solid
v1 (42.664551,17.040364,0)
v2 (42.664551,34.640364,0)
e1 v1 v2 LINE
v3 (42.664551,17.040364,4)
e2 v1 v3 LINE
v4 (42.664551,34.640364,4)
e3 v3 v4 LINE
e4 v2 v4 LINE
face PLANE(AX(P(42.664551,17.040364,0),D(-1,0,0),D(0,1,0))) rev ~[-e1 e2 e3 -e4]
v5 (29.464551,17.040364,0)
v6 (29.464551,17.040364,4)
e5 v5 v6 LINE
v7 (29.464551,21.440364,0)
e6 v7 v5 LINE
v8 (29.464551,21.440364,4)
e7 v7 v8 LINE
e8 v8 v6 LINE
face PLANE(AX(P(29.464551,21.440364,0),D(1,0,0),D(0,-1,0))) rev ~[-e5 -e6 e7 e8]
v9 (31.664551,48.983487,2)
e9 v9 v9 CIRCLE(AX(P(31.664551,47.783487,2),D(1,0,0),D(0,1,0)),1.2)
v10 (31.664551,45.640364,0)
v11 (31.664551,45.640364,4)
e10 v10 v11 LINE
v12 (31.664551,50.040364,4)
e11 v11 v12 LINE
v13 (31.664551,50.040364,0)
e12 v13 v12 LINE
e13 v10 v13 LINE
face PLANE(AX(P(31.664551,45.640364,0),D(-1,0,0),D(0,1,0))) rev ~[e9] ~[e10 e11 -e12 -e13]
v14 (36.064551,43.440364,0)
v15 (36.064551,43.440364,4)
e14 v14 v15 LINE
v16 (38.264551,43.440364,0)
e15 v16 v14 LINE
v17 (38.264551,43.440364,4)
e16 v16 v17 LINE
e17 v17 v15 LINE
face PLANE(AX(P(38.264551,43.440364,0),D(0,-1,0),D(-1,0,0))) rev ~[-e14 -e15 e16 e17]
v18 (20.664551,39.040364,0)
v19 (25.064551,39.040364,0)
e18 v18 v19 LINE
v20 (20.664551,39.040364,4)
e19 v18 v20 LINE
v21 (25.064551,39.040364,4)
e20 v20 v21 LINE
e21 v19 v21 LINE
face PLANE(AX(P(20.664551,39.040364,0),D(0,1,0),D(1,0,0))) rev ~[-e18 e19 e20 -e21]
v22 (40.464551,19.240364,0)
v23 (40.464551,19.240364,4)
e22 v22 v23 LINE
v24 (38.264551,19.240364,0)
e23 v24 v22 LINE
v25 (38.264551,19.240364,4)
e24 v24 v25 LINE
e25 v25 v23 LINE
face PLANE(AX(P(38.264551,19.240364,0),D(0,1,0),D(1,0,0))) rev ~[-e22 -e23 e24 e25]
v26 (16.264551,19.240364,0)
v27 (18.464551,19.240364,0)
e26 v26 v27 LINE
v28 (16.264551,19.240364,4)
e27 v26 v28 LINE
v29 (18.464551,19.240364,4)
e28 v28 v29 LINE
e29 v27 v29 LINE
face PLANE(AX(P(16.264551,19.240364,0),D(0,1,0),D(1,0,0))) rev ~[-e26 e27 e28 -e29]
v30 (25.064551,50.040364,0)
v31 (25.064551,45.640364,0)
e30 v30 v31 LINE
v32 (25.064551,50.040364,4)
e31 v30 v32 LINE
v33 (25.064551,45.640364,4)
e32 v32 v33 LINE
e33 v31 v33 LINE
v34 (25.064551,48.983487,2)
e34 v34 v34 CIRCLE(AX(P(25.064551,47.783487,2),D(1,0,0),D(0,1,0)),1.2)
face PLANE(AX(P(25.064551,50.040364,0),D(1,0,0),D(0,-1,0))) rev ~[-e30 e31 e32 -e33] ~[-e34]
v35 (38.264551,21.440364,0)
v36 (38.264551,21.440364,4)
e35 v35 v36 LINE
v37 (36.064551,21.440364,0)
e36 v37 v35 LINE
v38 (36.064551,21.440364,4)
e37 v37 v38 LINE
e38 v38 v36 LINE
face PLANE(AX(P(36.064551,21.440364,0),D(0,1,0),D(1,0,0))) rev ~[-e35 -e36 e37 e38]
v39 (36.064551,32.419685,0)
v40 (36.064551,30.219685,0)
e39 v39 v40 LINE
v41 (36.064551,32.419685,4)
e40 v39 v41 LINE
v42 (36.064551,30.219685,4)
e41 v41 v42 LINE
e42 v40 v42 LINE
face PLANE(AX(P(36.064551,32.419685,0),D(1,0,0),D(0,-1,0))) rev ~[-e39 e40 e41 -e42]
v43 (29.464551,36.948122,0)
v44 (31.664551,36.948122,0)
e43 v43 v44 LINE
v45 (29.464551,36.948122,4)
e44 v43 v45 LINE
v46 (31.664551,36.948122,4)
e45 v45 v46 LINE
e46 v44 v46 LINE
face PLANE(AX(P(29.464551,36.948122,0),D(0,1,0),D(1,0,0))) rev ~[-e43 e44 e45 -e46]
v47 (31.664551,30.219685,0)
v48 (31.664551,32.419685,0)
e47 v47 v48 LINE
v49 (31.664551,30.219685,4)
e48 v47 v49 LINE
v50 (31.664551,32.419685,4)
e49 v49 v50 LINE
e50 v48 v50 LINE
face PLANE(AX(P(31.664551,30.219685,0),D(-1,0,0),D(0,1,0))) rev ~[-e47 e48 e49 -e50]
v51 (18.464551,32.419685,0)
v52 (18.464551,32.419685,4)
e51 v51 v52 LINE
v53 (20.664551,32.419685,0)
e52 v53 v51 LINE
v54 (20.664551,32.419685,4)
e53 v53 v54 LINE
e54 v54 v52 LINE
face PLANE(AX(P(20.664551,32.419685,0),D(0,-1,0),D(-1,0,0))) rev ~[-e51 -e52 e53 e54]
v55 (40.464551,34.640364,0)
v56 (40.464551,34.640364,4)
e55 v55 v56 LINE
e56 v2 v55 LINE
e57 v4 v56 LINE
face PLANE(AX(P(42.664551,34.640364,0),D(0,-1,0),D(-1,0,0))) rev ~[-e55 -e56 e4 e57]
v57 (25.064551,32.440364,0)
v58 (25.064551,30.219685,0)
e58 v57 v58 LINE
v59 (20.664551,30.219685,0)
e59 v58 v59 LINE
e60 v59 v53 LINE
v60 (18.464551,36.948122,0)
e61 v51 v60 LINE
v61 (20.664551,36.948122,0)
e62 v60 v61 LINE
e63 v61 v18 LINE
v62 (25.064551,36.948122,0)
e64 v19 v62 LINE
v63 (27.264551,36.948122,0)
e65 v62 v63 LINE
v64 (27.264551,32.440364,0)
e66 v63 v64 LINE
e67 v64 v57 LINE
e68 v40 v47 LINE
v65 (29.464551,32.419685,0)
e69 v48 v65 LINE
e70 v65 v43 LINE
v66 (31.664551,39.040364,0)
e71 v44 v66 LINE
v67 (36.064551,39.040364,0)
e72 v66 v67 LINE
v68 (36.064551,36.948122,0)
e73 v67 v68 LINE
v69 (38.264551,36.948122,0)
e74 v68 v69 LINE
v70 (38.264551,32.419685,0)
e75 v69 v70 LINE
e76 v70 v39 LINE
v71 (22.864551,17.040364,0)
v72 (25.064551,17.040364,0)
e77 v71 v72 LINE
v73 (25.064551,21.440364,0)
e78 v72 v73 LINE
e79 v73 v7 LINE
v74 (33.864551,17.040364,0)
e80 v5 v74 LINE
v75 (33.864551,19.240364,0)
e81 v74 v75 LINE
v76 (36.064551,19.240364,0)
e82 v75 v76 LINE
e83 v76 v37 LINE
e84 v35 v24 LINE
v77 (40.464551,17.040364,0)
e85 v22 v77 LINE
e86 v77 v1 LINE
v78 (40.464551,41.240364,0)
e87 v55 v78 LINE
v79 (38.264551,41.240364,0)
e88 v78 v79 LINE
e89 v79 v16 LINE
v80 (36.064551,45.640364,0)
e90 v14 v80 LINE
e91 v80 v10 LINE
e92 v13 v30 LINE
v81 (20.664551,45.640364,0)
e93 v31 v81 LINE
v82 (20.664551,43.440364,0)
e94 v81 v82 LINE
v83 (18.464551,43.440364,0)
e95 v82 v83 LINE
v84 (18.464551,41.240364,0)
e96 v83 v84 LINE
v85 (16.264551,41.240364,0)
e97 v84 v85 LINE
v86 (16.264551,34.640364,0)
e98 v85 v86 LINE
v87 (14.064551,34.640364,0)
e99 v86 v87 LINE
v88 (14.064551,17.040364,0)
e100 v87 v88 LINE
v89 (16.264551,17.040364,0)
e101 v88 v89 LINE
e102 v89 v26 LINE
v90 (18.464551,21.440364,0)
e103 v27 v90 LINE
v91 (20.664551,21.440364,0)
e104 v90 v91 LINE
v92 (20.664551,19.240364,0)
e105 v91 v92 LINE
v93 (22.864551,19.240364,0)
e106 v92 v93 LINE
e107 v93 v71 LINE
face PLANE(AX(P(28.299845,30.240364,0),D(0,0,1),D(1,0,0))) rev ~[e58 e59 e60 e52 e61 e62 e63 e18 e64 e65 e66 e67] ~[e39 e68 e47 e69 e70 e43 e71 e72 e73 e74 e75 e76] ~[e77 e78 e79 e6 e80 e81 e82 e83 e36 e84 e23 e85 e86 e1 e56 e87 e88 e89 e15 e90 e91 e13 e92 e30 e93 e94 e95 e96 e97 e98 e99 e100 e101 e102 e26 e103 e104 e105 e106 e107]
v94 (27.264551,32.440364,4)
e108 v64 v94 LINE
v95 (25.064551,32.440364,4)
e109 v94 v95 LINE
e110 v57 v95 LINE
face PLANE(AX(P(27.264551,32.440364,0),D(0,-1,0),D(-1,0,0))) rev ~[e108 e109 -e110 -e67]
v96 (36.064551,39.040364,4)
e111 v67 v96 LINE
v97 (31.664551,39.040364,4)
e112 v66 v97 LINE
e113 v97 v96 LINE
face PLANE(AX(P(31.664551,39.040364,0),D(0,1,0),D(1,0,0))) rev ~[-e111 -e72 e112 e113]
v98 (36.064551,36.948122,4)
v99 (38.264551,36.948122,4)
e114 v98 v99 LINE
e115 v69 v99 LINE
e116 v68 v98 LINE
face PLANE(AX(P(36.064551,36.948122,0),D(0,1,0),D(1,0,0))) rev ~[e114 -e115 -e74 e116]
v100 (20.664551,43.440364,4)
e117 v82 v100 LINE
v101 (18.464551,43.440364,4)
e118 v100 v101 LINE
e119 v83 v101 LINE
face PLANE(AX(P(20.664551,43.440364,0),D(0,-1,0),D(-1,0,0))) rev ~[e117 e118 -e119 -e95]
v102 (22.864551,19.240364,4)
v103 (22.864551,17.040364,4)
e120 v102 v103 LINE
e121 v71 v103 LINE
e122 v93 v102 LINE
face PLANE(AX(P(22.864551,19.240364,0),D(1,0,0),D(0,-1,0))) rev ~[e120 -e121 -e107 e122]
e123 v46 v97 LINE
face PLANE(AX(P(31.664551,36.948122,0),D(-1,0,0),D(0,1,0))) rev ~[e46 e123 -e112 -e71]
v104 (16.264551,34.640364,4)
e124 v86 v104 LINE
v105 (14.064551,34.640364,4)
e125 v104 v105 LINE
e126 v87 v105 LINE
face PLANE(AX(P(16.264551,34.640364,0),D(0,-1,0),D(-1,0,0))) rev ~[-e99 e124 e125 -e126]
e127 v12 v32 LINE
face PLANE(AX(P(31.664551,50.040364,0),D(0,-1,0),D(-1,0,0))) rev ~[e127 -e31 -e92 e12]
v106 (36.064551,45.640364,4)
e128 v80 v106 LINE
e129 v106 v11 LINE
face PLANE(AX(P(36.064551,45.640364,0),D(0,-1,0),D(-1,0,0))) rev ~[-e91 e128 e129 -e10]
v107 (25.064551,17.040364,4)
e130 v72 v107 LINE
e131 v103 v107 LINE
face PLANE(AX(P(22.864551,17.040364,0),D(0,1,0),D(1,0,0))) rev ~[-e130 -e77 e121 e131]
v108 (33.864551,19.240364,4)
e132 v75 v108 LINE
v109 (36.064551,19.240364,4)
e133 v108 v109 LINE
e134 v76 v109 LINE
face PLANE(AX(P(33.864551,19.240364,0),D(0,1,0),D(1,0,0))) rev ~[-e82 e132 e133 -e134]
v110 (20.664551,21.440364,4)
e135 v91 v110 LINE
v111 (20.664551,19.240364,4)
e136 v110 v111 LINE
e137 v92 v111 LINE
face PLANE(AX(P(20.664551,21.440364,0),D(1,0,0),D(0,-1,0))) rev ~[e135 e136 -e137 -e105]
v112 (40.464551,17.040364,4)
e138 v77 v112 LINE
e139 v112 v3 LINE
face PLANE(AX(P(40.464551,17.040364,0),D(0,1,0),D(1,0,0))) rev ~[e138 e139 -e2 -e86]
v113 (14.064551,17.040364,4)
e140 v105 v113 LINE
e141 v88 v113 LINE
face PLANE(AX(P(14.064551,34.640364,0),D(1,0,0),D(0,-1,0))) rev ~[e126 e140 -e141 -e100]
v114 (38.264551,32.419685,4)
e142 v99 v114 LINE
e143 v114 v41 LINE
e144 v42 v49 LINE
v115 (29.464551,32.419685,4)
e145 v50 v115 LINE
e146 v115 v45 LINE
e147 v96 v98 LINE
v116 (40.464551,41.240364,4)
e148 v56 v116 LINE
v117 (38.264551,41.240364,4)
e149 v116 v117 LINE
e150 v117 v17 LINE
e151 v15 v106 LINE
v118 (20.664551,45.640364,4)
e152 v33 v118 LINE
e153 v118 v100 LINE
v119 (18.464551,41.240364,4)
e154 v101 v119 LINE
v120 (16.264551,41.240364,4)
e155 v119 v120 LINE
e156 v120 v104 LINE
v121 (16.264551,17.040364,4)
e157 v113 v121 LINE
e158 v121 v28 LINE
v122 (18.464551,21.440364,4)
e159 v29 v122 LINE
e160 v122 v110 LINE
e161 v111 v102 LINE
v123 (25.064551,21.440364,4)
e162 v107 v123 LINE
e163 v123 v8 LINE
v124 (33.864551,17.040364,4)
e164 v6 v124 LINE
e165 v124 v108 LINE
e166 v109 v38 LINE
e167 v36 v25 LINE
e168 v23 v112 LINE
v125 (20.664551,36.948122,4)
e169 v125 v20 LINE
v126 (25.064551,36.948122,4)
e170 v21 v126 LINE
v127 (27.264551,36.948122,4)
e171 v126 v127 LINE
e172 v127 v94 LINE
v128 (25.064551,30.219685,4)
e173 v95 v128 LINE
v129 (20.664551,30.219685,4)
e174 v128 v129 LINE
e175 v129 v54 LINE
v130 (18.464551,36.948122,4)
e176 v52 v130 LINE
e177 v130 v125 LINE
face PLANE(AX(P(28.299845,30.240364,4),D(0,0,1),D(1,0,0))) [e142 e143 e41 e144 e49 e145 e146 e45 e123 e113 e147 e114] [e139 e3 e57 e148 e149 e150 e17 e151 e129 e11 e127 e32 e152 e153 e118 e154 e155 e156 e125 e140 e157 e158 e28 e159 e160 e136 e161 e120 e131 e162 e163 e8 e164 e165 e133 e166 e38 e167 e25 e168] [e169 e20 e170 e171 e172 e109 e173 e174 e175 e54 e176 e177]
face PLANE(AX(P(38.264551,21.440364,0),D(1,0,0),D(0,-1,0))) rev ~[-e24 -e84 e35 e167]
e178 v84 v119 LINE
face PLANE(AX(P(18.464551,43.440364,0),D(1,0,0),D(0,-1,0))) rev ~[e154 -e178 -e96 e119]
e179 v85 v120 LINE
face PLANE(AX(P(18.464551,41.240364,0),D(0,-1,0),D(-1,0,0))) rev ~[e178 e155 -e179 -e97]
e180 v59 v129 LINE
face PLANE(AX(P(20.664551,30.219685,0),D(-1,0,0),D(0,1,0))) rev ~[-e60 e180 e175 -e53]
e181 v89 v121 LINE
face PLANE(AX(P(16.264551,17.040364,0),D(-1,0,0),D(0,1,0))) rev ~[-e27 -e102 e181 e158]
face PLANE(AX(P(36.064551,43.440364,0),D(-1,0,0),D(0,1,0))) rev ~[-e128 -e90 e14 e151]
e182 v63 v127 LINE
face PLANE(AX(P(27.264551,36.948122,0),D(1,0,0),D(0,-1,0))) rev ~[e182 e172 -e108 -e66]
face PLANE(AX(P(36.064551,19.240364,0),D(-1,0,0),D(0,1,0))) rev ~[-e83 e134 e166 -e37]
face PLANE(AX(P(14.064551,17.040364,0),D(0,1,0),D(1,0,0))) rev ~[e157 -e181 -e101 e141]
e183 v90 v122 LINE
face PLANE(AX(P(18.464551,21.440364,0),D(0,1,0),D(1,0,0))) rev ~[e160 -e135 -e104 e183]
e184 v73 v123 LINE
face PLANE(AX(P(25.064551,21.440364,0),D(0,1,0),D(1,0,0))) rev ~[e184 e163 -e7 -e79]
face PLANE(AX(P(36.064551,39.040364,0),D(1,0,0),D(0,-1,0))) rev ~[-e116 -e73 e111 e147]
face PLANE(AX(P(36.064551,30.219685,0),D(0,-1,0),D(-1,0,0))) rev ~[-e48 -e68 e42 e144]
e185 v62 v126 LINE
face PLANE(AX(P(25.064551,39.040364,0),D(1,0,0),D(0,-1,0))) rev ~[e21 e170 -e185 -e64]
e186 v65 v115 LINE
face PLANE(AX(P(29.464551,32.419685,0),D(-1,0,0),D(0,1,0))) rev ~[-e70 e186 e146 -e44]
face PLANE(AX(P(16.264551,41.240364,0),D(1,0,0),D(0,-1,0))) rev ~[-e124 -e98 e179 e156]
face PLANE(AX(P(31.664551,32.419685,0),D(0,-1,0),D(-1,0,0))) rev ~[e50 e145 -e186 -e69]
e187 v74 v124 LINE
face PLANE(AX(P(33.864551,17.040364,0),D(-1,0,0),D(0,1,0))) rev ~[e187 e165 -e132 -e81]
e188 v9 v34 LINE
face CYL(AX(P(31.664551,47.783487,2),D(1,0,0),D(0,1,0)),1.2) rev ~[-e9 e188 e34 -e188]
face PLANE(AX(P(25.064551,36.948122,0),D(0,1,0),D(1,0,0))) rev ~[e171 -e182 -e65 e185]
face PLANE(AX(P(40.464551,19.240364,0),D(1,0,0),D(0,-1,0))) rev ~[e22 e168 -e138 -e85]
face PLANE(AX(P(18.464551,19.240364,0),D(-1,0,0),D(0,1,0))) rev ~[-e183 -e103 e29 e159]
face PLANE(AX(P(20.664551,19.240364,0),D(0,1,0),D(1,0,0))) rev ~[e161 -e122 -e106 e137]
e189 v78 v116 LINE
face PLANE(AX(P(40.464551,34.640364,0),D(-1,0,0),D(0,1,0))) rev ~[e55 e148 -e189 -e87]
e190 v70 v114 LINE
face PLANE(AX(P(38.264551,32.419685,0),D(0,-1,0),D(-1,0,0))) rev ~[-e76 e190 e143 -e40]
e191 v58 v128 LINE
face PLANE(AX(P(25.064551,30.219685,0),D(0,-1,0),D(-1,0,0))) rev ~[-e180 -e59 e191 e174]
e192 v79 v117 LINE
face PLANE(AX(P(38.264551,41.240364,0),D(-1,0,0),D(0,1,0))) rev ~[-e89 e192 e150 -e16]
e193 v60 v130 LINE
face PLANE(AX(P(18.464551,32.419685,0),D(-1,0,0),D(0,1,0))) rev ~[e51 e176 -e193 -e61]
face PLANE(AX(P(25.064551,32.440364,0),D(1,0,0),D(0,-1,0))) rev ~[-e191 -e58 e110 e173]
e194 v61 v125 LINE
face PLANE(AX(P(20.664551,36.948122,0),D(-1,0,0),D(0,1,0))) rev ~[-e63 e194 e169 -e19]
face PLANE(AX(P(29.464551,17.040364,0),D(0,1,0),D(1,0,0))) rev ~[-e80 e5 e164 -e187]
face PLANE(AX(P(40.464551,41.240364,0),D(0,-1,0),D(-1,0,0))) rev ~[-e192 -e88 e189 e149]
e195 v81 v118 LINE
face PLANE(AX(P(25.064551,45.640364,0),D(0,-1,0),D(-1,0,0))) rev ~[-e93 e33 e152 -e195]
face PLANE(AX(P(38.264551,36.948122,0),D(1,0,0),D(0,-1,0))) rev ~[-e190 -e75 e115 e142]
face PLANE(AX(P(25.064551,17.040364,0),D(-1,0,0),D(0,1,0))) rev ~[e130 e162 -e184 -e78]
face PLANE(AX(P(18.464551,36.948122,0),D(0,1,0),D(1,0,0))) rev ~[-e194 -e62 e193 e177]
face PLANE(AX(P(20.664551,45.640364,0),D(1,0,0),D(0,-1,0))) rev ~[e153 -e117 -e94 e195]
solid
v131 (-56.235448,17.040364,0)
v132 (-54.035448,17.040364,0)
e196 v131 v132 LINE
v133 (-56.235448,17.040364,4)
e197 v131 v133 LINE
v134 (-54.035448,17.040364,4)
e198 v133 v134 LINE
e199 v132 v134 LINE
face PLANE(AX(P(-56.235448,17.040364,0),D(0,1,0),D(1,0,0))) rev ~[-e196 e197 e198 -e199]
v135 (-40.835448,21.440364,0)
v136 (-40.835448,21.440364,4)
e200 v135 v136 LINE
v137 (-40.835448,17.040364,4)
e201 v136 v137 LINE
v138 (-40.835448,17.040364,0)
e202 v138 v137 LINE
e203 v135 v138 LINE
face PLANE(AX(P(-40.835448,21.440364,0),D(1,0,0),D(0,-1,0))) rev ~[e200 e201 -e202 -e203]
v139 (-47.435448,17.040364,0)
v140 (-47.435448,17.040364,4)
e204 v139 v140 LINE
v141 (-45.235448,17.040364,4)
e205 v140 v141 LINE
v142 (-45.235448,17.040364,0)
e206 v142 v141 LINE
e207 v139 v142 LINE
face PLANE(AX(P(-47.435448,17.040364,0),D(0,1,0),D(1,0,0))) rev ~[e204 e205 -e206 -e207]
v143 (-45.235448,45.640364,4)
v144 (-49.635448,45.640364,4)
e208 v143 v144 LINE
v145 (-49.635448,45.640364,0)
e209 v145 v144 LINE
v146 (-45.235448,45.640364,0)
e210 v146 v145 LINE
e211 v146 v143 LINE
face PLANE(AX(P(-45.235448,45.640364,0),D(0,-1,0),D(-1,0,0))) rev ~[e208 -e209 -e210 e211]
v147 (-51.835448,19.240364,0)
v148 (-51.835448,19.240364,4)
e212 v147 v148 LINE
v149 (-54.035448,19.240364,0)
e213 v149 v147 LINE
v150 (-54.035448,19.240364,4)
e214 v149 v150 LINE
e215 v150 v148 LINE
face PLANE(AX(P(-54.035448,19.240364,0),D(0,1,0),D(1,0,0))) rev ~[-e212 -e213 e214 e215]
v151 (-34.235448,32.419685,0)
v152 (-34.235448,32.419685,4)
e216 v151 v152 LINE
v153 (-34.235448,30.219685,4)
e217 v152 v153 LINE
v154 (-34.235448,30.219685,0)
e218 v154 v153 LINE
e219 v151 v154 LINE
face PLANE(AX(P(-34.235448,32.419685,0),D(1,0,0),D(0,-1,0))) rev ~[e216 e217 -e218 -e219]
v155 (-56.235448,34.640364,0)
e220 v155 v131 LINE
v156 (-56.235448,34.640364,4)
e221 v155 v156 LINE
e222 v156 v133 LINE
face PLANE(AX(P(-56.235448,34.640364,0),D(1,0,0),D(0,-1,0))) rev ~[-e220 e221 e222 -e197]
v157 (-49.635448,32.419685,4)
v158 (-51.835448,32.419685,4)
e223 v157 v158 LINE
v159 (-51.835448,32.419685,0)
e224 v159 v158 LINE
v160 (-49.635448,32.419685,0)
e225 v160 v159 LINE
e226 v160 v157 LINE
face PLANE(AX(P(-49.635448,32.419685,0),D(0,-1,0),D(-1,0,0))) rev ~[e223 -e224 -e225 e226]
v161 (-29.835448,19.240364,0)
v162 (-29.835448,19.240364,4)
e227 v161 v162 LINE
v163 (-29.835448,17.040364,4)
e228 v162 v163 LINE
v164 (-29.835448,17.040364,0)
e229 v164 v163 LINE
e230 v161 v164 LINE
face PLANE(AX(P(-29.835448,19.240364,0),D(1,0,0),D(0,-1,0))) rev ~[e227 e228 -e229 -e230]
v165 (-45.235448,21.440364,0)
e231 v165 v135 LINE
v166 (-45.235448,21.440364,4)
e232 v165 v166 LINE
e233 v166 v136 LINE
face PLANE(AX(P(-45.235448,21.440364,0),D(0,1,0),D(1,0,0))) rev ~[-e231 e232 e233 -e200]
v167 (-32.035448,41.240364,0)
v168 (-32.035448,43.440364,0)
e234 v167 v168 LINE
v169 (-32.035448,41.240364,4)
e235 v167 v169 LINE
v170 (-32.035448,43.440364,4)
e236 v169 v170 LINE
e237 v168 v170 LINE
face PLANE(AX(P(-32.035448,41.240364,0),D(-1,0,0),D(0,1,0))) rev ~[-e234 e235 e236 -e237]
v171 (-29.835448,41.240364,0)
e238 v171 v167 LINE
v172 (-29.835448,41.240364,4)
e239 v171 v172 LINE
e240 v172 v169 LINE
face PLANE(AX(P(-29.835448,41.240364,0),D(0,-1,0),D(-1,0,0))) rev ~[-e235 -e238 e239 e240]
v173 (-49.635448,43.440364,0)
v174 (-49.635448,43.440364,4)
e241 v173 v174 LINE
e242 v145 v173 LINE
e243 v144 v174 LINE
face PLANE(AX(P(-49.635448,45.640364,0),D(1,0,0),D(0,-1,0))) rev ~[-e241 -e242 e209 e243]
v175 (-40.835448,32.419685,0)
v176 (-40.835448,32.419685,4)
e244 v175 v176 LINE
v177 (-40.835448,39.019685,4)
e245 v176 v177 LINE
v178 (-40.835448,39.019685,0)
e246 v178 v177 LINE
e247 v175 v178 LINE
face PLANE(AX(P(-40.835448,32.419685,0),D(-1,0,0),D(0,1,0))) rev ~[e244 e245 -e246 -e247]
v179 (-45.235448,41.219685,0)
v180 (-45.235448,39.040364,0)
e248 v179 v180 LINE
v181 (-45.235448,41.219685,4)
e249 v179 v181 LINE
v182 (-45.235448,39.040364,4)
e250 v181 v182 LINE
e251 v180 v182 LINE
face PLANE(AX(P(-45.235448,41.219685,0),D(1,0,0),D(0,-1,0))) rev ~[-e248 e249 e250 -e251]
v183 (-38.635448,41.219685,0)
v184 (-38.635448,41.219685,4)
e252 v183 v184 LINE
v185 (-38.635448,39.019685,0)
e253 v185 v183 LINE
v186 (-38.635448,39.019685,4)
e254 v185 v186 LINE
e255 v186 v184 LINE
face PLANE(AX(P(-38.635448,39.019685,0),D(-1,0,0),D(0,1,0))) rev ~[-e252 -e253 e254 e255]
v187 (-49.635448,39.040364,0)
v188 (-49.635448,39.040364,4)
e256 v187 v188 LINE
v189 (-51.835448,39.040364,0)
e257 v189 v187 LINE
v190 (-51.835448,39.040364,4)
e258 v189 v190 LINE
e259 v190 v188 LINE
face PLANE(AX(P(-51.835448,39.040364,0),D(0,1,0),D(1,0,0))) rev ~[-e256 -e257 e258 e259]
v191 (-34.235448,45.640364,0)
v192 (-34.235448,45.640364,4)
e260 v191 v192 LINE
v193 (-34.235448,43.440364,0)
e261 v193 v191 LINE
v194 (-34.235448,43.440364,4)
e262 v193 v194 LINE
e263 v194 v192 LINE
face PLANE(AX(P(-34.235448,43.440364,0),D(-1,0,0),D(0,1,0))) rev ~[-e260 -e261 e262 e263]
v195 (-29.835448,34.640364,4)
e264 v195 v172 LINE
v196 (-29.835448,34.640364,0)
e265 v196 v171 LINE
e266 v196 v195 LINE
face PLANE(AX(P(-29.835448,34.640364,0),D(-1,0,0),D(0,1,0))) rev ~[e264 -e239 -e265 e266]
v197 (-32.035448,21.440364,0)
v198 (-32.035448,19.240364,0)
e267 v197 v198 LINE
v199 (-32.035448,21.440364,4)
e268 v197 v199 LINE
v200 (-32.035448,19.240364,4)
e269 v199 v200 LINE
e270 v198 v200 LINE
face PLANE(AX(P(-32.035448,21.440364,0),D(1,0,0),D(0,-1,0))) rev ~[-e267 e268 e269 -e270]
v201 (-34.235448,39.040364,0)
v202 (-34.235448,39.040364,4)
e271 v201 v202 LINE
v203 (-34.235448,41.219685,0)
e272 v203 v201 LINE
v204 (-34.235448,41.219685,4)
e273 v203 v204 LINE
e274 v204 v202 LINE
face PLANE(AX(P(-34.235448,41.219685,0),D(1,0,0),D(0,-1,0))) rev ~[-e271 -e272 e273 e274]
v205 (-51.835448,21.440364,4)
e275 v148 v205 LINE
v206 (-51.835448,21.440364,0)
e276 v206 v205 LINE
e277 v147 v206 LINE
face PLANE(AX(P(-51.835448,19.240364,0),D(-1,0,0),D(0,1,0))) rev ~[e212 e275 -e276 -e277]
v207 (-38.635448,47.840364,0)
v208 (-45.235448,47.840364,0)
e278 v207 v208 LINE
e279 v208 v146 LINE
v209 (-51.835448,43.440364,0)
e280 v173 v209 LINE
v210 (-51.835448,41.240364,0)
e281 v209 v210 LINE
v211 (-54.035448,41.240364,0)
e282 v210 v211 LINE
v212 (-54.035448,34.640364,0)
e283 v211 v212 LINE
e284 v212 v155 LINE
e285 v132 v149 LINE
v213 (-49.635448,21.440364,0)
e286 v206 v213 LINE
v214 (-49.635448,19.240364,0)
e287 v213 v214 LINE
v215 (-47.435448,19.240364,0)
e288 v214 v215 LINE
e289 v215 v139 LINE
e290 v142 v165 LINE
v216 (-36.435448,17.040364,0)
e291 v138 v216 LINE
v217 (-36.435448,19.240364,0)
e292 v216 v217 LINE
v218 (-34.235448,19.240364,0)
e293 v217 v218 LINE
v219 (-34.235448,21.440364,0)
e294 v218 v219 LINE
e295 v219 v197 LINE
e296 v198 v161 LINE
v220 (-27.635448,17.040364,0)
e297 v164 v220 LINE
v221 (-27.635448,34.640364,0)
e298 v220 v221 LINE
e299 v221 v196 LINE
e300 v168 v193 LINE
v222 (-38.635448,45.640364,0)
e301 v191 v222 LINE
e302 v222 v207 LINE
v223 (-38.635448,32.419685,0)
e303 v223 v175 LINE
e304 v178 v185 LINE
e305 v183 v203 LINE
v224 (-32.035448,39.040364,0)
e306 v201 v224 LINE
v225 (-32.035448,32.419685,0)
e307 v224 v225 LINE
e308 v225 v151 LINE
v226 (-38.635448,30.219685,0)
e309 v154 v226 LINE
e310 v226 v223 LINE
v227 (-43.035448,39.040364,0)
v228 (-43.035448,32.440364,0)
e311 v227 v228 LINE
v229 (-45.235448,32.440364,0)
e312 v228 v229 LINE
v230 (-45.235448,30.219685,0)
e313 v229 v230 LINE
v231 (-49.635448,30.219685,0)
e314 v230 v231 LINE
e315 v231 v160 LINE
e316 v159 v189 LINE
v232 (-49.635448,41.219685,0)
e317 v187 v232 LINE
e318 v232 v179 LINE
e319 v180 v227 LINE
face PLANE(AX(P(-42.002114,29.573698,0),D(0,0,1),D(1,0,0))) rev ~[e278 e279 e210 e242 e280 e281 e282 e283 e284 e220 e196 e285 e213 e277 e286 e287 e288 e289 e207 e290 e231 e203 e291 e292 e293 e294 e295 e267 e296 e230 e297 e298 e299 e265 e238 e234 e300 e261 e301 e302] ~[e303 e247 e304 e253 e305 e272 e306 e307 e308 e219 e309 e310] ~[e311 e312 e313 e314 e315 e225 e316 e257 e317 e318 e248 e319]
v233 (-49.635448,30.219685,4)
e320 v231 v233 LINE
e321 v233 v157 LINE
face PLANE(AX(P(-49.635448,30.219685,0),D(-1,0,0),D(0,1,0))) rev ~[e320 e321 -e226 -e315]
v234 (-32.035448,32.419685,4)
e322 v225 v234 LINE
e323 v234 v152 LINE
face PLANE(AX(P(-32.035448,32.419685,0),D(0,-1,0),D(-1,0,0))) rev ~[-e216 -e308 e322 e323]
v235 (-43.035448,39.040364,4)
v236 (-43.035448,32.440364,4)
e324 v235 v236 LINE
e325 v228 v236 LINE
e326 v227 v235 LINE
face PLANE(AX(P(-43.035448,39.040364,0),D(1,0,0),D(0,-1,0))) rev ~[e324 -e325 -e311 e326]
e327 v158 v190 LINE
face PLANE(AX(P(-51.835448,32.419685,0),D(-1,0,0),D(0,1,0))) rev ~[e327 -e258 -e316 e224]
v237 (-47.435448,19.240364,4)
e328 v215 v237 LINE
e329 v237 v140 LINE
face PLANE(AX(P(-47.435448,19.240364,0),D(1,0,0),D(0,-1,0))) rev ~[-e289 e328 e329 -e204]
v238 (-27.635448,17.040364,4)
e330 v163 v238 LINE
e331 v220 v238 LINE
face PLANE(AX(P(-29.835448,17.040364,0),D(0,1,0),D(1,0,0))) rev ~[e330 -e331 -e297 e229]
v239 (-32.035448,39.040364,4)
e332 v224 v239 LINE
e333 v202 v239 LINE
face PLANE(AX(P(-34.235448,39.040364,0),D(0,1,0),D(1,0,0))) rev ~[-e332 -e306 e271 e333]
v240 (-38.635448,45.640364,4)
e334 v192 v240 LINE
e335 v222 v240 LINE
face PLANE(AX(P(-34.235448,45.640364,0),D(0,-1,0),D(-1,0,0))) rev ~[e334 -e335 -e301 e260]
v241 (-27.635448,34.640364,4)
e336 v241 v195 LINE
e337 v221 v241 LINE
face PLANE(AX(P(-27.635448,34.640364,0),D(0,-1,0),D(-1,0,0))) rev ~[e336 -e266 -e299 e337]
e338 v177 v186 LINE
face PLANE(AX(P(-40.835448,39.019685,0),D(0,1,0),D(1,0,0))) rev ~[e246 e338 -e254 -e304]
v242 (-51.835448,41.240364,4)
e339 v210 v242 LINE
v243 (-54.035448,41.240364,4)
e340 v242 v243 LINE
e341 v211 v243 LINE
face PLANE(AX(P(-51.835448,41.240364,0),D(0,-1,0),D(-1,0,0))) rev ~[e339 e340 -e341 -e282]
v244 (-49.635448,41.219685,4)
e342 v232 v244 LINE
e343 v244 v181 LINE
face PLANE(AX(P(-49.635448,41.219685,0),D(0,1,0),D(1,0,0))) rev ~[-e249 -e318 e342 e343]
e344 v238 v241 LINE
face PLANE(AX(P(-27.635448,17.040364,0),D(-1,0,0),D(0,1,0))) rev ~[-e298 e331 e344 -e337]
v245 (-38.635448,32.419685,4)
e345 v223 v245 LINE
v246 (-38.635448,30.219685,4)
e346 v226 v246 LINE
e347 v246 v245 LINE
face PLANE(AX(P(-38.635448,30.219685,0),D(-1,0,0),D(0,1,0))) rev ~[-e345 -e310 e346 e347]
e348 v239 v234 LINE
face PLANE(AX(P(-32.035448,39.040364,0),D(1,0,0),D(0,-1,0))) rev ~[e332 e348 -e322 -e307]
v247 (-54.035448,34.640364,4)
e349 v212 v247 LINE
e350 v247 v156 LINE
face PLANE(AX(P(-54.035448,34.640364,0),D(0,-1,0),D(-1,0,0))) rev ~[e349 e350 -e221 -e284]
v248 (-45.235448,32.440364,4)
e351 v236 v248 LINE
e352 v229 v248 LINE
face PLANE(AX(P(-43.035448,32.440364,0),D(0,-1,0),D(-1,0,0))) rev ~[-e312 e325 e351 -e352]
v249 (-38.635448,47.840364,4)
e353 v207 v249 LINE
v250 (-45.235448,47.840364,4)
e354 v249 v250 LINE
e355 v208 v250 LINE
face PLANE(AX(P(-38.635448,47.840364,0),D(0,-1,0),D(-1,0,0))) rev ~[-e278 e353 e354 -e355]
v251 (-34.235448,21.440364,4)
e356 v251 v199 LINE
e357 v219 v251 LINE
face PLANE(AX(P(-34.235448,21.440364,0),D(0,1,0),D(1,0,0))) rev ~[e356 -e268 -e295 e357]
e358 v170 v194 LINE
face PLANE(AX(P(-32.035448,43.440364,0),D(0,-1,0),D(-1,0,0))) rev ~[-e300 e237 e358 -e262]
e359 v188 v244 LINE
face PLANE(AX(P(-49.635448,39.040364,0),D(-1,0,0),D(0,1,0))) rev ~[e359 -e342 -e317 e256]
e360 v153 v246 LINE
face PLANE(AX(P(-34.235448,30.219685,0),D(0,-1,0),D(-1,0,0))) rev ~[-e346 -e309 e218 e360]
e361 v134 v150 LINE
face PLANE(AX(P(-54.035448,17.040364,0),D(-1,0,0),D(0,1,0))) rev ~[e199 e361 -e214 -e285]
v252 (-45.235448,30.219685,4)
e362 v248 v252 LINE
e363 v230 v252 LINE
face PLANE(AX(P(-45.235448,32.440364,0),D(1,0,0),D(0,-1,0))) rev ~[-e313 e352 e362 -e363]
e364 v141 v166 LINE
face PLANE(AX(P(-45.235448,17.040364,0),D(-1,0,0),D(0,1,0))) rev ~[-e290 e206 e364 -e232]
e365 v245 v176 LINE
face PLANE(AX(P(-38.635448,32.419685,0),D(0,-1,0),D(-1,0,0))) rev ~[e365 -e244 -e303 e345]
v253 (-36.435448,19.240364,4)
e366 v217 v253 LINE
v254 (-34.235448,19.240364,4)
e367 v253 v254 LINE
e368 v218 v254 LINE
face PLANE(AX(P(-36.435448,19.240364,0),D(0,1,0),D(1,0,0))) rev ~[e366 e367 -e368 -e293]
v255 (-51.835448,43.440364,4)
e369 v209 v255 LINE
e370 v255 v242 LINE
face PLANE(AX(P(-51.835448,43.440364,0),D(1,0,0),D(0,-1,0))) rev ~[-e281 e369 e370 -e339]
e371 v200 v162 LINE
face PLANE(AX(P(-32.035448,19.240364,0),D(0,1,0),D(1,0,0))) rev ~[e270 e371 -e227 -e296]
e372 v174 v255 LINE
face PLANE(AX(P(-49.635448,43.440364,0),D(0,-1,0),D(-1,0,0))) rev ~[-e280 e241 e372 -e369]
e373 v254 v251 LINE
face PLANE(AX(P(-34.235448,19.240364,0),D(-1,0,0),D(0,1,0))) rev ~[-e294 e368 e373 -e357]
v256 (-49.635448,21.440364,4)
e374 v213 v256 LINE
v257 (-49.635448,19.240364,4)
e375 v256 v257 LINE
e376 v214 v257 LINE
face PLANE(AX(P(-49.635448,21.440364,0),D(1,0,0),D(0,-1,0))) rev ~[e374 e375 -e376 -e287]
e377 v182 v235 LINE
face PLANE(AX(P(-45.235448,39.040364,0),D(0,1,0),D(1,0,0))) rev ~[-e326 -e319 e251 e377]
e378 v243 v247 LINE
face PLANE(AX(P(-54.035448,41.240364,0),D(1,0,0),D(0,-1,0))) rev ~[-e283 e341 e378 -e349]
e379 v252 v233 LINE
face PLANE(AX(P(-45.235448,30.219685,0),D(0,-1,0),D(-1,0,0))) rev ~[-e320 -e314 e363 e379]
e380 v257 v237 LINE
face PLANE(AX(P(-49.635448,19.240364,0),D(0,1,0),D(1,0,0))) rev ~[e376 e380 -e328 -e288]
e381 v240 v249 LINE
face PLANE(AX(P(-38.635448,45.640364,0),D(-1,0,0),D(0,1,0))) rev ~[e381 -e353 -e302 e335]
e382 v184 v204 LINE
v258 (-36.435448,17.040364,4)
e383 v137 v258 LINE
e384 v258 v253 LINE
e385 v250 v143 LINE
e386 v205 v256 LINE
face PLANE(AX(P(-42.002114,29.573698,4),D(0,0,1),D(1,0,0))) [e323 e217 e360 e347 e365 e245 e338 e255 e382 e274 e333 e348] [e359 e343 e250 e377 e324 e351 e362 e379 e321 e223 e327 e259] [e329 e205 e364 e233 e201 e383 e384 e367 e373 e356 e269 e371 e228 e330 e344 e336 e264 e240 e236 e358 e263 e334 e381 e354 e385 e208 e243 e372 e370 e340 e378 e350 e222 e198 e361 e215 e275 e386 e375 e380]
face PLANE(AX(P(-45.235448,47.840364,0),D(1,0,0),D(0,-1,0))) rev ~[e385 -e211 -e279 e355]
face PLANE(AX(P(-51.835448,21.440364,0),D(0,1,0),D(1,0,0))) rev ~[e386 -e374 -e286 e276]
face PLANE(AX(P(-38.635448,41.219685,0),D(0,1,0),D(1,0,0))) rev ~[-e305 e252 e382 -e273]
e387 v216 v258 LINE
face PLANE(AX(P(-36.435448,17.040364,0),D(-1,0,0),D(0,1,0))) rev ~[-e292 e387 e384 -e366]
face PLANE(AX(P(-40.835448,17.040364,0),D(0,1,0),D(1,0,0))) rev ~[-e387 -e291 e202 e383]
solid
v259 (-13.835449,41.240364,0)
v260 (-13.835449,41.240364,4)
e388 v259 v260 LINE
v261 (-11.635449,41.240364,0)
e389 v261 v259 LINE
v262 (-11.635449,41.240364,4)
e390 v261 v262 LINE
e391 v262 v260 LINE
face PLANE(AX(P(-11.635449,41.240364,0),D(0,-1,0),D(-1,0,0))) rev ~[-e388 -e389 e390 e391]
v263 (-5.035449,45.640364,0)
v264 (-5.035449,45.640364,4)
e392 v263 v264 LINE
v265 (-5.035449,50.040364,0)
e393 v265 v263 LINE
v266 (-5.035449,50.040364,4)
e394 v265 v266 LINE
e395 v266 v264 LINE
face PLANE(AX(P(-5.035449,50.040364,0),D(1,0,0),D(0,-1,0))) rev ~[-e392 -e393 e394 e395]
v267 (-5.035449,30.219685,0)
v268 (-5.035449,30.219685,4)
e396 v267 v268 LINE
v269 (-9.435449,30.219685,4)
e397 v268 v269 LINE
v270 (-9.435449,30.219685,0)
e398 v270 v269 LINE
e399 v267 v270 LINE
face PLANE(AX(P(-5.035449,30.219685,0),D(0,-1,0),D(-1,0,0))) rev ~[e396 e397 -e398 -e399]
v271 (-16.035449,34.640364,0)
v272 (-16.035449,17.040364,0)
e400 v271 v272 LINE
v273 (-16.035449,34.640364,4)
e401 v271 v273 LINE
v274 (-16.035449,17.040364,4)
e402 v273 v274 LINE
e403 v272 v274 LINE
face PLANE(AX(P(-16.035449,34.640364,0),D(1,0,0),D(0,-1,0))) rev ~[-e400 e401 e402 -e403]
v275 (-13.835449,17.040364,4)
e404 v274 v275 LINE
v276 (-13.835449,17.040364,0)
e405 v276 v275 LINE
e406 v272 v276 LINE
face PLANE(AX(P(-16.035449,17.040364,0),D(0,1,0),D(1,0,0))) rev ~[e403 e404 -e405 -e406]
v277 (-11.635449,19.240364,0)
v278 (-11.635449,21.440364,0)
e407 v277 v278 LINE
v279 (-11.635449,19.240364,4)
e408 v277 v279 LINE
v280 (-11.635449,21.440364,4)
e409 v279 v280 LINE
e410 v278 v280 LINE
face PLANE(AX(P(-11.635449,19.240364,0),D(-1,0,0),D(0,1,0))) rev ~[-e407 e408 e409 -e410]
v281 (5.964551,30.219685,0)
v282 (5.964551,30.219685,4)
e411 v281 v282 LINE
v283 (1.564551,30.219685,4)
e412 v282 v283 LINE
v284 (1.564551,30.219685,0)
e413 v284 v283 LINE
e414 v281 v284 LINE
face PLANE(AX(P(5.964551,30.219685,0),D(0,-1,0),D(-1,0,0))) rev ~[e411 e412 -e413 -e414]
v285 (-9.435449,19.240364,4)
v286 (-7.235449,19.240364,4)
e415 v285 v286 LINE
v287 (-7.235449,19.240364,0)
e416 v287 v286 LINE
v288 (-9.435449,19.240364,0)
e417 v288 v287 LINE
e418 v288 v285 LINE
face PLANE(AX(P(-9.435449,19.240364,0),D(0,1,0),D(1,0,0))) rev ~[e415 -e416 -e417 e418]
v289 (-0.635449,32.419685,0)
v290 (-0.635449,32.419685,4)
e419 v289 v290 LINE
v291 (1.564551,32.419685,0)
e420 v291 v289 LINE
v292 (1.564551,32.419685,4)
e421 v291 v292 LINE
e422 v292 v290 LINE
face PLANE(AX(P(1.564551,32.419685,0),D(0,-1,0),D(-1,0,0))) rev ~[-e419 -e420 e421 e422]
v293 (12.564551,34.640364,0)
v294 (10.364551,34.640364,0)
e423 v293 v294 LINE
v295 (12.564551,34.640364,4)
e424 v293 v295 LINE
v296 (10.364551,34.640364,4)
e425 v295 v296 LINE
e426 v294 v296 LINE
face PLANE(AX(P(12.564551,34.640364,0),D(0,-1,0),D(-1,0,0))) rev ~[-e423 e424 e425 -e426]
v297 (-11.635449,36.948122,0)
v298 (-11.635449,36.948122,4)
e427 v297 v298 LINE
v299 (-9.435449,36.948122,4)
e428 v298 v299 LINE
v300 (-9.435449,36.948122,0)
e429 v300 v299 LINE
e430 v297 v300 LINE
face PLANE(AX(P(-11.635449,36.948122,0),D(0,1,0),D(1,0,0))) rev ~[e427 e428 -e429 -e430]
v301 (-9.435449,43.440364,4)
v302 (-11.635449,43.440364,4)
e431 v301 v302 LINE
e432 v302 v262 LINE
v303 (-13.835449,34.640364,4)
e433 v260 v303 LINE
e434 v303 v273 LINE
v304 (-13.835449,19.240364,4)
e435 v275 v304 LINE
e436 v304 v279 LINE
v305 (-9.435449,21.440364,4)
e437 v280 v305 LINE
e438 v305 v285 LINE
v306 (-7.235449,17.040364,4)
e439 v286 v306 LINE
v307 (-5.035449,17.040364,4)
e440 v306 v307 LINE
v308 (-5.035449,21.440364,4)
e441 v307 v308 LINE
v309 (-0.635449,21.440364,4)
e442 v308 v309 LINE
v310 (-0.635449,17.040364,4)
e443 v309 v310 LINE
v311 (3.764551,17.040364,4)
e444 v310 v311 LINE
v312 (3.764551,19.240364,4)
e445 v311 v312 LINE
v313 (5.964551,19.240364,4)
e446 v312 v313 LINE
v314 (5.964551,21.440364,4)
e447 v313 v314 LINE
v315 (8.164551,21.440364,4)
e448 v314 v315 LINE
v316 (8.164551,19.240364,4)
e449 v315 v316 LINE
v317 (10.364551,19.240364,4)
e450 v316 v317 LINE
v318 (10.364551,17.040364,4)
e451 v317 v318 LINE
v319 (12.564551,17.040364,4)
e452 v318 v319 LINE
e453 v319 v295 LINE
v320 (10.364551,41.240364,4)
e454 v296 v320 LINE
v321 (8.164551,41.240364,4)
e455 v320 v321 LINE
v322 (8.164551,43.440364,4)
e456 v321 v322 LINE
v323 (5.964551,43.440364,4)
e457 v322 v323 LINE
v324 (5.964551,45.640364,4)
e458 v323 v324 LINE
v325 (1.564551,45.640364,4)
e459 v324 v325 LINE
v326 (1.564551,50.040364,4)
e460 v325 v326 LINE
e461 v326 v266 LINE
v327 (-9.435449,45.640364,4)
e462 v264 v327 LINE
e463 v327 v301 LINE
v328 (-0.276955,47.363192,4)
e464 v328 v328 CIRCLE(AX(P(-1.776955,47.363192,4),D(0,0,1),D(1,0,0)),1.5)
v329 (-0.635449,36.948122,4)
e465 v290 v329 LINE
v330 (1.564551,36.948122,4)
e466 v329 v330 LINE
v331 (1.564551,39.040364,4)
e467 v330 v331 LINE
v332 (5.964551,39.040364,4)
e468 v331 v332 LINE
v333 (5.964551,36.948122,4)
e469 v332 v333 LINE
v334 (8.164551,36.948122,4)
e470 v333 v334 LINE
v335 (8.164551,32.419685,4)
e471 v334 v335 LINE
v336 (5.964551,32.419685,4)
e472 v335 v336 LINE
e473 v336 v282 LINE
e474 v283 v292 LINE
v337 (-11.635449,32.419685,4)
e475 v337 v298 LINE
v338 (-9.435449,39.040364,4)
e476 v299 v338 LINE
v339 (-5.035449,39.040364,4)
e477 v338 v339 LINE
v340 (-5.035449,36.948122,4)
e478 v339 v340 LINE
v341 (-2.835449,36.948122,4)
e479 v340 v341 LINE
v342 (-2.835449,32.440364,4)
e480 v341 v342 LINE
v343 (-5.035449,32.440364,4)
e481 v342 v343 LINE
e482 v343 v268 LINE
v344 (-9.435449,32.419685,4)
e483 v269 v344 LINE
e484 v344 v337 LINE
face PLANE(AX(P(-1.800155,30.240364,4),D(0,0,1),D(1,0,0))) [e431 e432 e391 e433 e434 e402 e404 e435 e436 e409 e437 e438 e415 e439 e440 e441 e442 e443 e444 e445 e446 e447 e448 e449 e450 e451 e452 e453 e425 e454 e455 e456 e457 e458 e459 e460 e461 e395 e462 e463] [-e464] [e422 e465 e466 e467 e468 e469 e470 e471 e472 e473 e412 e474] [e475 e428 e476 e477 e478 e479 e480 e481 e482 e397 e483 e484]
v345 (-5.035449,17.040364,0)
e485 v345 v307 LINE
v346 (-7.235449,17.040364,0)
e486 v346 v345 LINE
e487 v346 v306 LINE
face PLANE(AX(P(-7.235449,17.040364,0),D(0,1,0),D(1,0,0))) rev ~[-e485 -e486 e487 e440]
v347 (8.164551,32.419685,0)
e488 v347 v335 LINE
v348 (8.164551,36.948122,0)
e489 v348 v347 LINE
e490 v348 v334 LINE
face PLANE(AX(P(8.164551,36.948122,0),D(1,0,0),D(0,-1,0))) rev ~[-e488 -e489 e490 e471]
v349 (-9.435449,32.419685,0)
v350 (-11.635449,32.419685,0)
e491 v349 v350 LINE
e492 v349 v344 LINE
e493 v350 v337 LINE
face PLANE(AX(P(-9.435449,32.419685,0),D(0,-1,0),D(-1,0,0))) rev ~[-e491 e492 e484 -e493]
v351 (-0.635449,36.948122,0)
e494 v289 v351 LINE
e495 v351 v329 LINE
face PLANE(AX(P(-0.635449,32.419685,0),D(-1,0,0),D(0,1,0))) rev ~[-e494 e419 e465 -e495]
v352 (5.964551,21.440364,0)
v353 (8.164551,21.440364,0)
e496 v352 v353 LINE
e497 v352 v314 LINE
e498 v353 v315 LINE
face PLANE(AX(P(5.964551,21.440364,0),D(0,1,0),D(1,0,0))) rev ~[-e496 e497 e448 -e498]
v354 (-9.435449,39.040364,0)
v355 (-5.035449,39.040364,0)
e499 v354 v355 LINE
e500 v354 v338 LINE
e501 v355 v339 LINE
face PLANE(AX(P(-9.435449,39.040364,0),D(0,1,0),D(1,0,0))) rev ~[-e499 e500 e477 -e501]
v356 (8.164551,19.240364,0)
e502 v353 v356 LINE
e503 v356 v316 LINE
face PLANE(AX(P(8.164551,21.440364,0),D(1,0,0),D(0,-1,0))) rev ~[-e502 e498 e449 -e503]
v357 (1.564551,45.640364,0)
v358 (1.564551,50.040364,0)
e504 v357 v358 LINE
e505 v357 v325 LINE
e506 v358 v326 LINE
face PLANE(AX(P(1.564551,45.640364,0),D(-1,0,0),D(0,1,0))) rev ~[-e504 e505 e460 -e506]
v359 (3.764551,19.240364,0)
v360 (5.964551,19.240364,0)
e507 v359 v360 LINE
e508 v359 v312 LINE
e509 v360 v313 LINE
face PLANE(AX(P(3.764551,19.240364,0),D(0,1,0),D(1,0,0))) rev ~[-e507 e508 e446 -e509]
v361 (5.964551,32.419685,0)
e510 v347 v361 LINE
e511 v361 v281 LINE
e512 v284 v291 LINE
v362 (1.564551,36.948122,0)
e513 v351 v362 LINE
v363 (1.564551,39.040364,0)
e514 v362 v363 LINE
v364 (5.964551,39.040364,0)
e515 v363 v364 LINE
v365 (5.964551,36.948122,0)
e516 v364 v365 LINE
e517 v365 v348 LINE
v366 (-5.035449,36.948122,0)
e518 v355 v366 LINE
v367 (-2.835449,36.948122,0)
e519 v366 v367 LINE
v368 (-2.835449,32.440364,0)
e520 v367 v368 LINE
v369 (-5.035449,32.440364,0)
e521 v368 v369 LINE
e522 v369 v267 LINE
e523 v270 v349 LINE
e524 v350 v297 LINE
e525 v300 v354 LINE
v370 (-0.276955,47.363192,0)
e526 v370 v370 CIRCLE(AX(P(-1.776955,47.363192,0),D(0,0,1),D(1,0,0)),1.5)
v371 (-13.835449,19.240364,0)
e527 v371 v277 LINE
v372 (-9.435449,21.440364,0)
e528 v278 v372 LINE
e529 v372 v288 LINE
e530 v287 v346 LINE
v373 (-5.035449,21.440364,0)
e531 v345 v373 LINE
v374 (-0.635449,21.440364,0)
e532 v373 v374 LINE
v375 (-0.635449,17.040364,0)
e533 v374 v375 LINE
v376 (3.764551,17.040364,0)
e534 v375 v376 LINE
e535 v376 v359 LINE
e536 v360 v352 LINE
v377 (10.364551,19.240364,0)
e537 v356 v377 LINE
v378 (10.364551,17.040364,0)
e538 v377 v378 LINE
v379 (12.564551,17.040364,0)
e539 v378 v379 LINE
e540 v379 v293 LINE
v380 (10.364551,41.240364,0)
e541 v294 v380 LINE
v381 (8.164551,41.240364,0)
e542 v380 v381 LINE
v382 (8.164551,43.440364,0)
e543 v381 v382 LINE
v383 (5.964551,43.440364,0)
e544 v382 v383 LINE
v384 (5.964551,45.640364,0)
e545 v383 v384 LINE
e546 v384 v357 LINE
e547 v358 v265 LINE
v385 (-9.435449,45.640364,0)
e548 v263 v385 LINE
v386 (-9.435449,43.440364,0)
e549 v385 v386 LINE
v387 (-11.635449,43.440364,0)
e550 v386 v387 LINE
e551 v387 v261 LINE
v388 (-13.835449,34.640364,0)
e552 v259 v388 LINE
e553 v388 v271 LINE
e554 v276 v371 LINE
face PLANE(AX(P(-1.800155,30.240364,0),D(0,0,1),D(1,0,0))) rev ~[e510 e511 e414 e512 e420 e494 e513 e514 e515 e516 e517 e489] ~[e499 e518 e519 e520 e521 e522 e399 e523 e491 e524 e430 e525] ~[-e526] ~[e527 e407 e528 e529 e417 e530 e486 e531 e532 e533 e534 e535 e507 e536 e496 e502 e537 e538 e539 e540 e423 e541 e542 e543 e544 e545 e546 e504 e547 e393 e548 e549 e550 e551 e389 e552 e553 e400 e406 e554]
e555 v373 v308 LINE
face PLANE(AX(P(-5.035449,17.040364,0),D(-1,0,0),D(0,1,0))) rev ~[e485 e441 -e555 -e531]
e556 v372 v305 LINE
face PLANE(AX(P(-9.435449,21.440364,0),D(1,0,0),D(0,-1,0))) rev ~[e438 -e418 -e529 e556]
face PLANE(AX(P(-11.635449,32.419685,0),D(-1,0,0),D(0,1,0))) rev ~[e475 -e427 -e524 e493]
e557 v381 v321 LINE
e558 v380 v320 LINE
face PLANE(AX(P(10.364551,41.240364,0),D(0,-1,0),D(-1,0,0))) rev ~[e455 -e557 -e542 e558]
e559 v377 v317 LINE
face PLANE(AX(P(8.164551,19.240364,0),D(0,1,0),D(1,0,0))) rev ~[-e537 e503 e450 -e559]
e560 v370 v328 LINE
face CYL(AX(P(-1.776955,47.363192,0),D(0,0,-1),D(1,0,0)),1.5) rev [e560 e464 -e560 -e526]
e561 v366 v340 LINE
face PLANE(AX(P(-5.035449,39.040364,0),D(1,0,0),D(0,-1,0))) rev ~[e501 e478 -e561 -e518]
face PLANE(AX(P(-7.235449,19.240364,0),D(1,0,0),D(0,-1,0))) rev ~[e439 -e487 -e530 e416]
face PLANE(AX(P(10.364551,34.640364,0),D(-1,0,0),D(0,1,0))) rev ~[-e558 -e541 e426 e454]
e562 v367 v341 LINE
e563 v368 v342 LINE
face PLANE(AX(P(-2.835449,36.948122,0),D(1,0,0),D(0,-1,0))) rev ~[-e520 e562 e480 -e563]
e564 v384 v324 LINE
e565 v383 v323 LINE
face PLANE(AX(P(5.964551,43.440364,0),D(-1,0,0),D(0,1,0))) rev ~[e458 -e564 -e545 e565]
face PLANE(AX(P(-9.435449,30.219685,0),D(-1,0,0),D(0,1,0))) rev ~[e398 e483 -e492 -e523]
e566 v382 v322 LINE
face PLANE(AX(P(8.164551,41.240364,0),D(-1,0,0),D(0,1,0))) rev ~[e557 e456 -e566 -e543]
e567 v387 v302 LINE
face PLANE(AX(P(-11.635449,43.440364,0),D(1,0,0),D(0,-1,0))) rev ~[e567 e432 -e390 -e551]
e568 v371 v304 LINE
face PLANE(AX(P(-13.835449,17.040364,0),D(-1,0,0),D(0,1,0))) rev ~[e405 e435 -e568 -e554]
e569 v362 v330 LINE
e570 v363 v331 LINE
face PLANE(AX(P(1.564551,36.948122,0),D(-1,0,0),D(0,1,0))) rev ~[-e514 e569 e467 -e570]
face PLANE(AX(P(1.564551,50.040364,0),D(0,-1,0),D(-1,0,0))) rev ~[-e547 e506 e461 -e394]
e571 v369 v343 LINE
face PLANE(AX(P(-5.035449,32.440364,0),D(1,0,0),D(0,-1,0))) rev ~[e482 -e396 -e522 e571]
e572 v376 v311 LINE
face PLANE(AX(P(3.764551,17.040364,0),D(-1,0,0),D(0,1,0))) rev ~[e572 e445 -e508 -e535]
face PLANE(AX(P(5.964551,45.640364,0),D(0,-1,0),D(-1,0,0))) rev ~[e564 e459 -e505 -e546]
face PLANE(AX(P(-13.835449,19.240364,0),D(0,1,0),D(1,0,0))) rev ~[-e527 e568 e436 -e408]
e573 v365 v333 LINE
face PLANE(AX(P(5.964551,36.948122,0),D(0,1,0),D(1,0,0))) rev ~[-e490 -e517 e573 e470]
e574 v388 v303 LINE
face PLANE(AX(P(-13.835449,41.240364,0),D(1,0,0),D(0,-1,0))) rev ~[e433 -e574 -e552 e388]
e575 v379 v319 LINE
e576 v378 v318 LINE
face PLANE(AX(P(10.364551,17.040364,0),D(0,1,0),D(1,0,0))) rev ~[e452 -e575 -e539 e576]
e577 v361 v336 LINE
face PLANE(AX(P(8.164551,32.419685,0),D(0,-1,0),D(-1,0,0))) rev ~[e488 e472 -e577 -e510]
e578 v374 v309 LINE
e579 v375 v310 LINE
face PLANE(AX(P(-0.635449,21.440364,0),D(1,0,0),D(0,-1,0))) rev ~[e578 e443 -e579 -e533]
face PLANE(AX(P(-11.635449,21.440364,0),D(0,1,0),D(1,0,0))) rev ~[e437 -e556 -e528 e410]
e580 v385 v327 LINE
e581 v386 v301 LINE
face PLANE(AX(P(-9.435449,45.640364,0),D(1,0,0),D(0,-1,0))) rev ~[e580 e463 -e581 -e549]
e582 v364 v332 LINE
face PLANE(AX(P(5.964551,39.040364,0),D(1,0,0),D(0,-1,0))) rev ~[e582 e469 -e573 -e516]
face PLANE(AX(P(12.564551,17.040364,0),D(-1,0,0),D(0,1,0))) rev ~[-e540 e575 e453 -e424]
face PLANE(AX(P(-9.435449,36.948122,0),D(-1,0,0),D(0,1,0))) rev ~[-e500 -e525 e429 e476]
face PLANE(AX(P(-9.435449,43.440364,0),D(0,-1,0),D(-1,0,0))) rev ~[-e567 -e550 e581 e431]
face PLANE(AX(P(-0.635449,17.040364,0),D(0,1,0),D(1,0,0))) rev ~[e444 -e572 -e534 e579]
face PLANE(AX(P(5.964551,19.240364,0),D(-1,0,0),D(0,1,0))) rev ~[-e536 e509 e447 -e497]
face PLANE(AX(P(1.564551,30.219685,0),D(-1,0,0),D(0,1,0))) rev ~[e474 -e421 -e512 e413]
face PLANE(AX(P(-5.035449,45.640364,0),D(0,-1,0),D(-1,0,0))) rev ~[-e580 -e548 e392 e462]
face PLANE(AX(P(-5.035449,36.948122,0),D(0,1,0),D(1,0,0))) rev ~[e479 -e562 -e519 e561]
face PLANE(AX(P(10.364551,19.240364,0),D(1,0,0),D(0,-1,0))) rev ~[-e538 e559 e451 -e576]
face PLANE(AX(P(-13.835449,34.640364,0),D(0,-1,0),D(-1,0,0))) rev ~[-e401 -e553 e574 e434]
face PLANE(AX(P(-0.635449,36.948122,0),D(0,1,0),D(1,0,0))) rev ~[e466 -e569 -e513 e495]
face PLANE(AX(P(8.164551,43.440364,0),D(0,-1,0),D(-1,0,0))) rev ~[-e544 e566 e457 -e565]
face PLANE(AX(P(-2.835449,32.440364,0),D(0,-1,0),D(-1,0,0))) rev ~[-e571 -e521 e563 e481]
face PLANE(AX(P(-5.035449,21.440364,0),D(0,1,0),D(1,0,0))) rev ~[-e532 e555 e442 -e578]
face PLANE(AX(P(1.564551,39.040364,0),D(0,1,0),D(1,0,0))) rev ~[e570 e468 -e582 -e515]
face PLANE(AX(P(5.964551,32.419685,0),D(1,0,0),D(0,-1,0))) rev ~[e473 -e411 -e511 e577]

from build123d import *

# Parameters (mm, degrees)
F1_DEPTH = 4
F0_R     = 1.5
F2_R     = 1.2
F3_DEPTH = 6.6


with BuildPart() as f1:
    # F0 (on Top) → F1 (new body)
    with BuildSketch(Plane.XY):
        Polygon((-49.635447526, 43.4403642893), (-51.835447526, 43.4403642893), (-51.835447526, 41.2403642893), (-54.035447526, 41.2403642893), (-54.035447526, 34.6403642893), (-56.235447526, 34.6403642893), (-56.235447526, 17.0403642893), (-54.035447526, 17.0403642893), (-54.035447526, 19.2403642893), (-51.835447526, 19.2403642893), (-51.835447526, 21.4403642893), (-49.635447526, 21.4403642893), (-49.635447526, 19.2403642893), (-47.435447526, 19.2403642893), (-47.435447526, 17.0403642893), (-45.235447526, 17.0403642893), (-45.235447526, 21.4403642893), (-40.835447526, 21.4403642893), (-40.835447526, 17.0403642893), (-36.435447526, 17.0403642893), (-36.435447526, 19.2403642893), (-34.235447526, 19.2403642893), (-34.235447526, 21.4403642893), (-32.035447526, 21.4403642893), (-32.035447526, 19.2403642893), (-29.835447526, 19.2403642893), (-29.835447526, 17.0403642893), (-27.635447526, 17.0403642893), (-27.635447526, 34.6403642893), (-29.835447526, 34.6403642893), (-29.835447526, 41.2403642893), (-32.035447526, 41.2403642893), (-32.035447526, 43.4403642893), (-34.235447526, 43.4403642893), (-34.235447526, 45.6403642893), (-38.635447526, 45.6403642893), (-38.635447526, 47.8403642893), (-45.235447526, 47.8403642893), (-45.235447526, 45.6403642893), (-49.635447526, 45.6403642893), align=None)
        Polygon((-45.235447526, 41.2196852863), (-45.235447526, 39.0403642893), (-43.035447526, 39.0403642893), (-43.035447526, 39.0196852863), (-43.035447526, 32.4403642893), (-45.235447526, 32.4403642893), (-45.235447526, 30.2196852863), (-49.635447526, 30.2196852863), (-49.635447526, 32.4196852863), (-51.835447526, 32.4196852863), (-51.835447526, 32.4403642893), (-51.835447526, 39.0196852863), (-51.835447526, 39.0403642893), (-49.635447526, 39.0403642893), (-49.635447526, 41.2196852863), align=None, mode=Mode.SUBTRACT)
        Polygon((-34.235447526, 39.0403642893), (-32.035447526, 39.0403642893), (-32.035447526, 39.0196852863), (-32.035447526, 32.4403642893), (-32.035447526, 32.4196852863), (-34.235447526, 32.4196852863), (-34.235447526, 30.2196852863), (-38.635447526, 30.2196852863), (-38.635447526, 32.4196852863), (-40.835447526, 32.4196852863), (-40.835447526, 39.0196852863), (-38.635447526, 39.0196852863), (-38.635447526, 39.0403642893), (-38.635447526, 41.2196852863), (-34.235447526, 41.2196852863), align=None, mode=Mode.SUBTRACT)
    extrude(amount=F1_DEPTH)


with BuildPart() as f1b:
    # F0 (on Top) → F1, piece 2 (new body)
    with BuildSketch(Plane.XY):
        Polygon((-9.4354487598, 43.4403642893), (-11.6354487598, 43.4403642893), (-11.6354487598, 41.2403642893), (-13.8354487598, 41.2403642893), (-13.8354487598, 34.6403642893), (-16.0354487598, 34.6403642893), (-16.0354487598, 17.0403642893), (-13.8354487598, 17.0403642893), (-13.8354487598, 19.2403642893), (-11.6354487598, 19.2403642893), (-11.6354487598, 21.4403642893), (-9.4354487598, 21.4403642893), (-9.4354487598, 19.2403642893), (-7.2354487598, 19.2403642893), (-7.2354487598, 17.0403642893), (-5.0354487598, 17.0403642893), (-5.0354487598, 21.4403642893), (-0.6354487598, 21.4403642893), (-0.6354487598, 17.0403642893), (3.7645512402, 17.0403642893), (3.7645512402, 19.2403642893), (5.9645512402, 19.2403642893), (5.9645512402, 21.4403642893), (8.1645512402, 21.4403642893), (8.1645512402, 19.2403642893), (10.3645512402, 19.2403642893), (10.3645512402, 17.0403642893), (12.5645512402, 17.0403642893), (12.5645512402, 34.6403642893), (10.3645512402, 34.6403642893), (10.3645512402, 41.2403642893), (8.1645512402, 41.2403642893), (8.1645512402, 43.4403642893), (5.9645512402, 43.4403642893), (5.9645512402, 45.6403642893), (1.5645512402, 45.6403642893), (1.5645512402, 47.8403642893), (1.5645512402, 50.0403642893), (-5.0354487598, 50.0403642893), (-5.0354487598, 47.8403642893), (-5.0354487598, 45.6403642893), (-9.4354487598, 45.6403642893), align=None)
        Polygon((-5.0354487598, 36.9481220841), (-2.8354487598, 36.9481220841), (-2.8354487598, 32.4403642893), (-5.0354487598, 32.4403642893), (-5.0354487598, 30.2196852863), (-9.4354487598, 30.2196852863), (-9.4354487598, 32.4196852863), (-11.6354487598, 32.4196852863), (-11.6354487598, 32.4403642893), (-11.6354487598, 36.9481220841), (-9.4354487598, 36.9481220841), (-9.4354487598, 39.0196852863), (-9.4354487598, 39.0403642893), (-7.2354487598, 39.0403642893), (-5.0354487598, 39.0403642893), (-5.0354487598, 39.0196852863), align=None, mode=Mode.SUBTRACT)
        Polygon((5.9645512402, 36.9481220841), (8.1645512402, 36.9481220841), (8.1645512402, 32.4403642893), (8.1645512402, 32.4196852863), (5.9645512402, 32.4196852863), (5.9645512402, 30.2196852863), (1.5645512402, 30.2196852863), (1.5645512402, 32.4196852863), (-0.6354487598, 32.4196852863), (-0.6354487598, 36.9481220841), (1.5645512402, 36.9481220841), (1.5645512402, 39.0196852863), (1.5645512402, 39.0403642893), (5.9645512402, 39.0403642893), (5.9645512402, 39.0196852863), align=None, mode=Mode.SUBTRACT)
        with Locations((-1.7769553233, 47.363191843)):
            Circle(F0_R, mode=Mode.SUBTRACT)
    extrude(amount=F1_DEPTH)


with BuildPart() as f1c:
    # F0 (on Top) → F1, piece 3 (new body)
    with BuildSketch(Plane.XY):
        Polygon((20.6645513311, 43.4403642893), (18.4645513311, 43.4403642893), (18.4645513311, 41.2403642893), (16.2645513311, 41.2403642893), (16.2645513311, 34.6403642893), (14.0645513311, 34.6403642893), (14.0645513311, 17.0403642893), (16.2645513311, 17.0403642893), (16.2645513311, 19.2403642893), (18.4645513311, 19.2403642893), (18.4645513311, 21.4403642893), (20.6645513311, 21.4403642893), (20.6645513311, 19.2403642893), (22.8645513311, 19.2403642893), (22.8645513311, 17.0403642893), (25.0645513311, 17.0403642893), (25.0645513311, 21.4403642893), (29.4645513311, 21.4403642893), (29.4645513311, 17.0403642893), (33.8645513311, 17.0403642893), (33.8645513311, 19.2403642893), (36.0645513311, 19.2403642893), (36.0645513311, 21.4403642893), (38.2645513311, 21.4403642893), (38.2645513311, 19.2403642893), (40.4645513311, 19.2403642893), (40.4645513311, 17.0403642893), (42.6645513311, 17.0403642893), (42.6645513311, 34.6403642893), (40.4645513311, 34.6403642893), (40.4645513311, 41.2403642893), (38.2645513311, 41.2403642893), (38.2645513311, 43.4403642893), (36.0645513311, 43.4403642893), (36.0645513311, 45.6403642893), (31.6645513311, 45.6403642893), (31.6645513311, 47.8403642893), (31.6645513311, 50.0403642893), (25.0645513311, 50.0403642893), (25.0645513311, 47.8403642893), (25.0645513311, 45.6403642893), (20.6645513311, 45.6403642893), align=None)
        Polygon((25.0645513311, 36.9481220841), (27.2645513311, 36.9481220841), (27.2645513311, 32.4403642893), (25.0645513311, 32.4403642893), (25.0645513311, 30.2196852863), (20.6645513311, 30.2196852863), (20.6645513311, 32.4196852863), (18.4645513311, 32.4196852863), (18.4645513311, 32.4403642893), (18.4645513311, 36.9481220841), (20.6645513311, 36.9481220841), (20.6645513311, 39.0196852863), (20.6645513311, 39.0403642893), (22.8645513311, 39.0403642893), (25.0645513311, 39.0403642893), (25.0645513311, 39.0196852863), align=None, mode=Mode.SUBTRACT)
        Polygon((36.0645513311, 36.9481220841), (38.2645513311, 36.9481220841), (38.2645513311, 32.4403642893), (38.2645513311, 32.4196852863), (36.0645513311, 32.4196852863), (36.0645513311, 30.2196852863), (31.6645513311, 30.2196852863), (31.6645513311, 32.4196852863), (29.4645513311, 32.4196852863), (29.4645513311, 36.9481220841), (31.6645513311, 36.9481220841), (31.6645513311, 39.0196852863), (31.6645513311, 39.0403642893), (36.0645513311, 39.0403642893), (36.0645513311, 39.0196852863), align=None, mode=Mode.SUBTRACT)
    extrude(amount=F1_DEPTH)

    # F2 (on face) → F3 (cut, through all)
    with BuildSketch(Plane.YZ.offset(31.6645513311)):
        with Locations((47.7834865451, 2)):
            Circle(F2_R)
    extrude(amount=-F3_DEPTH, mode=Mode.SUBTRACT)


solid = Compound([f1.part, f1b.part, f1c.part])
